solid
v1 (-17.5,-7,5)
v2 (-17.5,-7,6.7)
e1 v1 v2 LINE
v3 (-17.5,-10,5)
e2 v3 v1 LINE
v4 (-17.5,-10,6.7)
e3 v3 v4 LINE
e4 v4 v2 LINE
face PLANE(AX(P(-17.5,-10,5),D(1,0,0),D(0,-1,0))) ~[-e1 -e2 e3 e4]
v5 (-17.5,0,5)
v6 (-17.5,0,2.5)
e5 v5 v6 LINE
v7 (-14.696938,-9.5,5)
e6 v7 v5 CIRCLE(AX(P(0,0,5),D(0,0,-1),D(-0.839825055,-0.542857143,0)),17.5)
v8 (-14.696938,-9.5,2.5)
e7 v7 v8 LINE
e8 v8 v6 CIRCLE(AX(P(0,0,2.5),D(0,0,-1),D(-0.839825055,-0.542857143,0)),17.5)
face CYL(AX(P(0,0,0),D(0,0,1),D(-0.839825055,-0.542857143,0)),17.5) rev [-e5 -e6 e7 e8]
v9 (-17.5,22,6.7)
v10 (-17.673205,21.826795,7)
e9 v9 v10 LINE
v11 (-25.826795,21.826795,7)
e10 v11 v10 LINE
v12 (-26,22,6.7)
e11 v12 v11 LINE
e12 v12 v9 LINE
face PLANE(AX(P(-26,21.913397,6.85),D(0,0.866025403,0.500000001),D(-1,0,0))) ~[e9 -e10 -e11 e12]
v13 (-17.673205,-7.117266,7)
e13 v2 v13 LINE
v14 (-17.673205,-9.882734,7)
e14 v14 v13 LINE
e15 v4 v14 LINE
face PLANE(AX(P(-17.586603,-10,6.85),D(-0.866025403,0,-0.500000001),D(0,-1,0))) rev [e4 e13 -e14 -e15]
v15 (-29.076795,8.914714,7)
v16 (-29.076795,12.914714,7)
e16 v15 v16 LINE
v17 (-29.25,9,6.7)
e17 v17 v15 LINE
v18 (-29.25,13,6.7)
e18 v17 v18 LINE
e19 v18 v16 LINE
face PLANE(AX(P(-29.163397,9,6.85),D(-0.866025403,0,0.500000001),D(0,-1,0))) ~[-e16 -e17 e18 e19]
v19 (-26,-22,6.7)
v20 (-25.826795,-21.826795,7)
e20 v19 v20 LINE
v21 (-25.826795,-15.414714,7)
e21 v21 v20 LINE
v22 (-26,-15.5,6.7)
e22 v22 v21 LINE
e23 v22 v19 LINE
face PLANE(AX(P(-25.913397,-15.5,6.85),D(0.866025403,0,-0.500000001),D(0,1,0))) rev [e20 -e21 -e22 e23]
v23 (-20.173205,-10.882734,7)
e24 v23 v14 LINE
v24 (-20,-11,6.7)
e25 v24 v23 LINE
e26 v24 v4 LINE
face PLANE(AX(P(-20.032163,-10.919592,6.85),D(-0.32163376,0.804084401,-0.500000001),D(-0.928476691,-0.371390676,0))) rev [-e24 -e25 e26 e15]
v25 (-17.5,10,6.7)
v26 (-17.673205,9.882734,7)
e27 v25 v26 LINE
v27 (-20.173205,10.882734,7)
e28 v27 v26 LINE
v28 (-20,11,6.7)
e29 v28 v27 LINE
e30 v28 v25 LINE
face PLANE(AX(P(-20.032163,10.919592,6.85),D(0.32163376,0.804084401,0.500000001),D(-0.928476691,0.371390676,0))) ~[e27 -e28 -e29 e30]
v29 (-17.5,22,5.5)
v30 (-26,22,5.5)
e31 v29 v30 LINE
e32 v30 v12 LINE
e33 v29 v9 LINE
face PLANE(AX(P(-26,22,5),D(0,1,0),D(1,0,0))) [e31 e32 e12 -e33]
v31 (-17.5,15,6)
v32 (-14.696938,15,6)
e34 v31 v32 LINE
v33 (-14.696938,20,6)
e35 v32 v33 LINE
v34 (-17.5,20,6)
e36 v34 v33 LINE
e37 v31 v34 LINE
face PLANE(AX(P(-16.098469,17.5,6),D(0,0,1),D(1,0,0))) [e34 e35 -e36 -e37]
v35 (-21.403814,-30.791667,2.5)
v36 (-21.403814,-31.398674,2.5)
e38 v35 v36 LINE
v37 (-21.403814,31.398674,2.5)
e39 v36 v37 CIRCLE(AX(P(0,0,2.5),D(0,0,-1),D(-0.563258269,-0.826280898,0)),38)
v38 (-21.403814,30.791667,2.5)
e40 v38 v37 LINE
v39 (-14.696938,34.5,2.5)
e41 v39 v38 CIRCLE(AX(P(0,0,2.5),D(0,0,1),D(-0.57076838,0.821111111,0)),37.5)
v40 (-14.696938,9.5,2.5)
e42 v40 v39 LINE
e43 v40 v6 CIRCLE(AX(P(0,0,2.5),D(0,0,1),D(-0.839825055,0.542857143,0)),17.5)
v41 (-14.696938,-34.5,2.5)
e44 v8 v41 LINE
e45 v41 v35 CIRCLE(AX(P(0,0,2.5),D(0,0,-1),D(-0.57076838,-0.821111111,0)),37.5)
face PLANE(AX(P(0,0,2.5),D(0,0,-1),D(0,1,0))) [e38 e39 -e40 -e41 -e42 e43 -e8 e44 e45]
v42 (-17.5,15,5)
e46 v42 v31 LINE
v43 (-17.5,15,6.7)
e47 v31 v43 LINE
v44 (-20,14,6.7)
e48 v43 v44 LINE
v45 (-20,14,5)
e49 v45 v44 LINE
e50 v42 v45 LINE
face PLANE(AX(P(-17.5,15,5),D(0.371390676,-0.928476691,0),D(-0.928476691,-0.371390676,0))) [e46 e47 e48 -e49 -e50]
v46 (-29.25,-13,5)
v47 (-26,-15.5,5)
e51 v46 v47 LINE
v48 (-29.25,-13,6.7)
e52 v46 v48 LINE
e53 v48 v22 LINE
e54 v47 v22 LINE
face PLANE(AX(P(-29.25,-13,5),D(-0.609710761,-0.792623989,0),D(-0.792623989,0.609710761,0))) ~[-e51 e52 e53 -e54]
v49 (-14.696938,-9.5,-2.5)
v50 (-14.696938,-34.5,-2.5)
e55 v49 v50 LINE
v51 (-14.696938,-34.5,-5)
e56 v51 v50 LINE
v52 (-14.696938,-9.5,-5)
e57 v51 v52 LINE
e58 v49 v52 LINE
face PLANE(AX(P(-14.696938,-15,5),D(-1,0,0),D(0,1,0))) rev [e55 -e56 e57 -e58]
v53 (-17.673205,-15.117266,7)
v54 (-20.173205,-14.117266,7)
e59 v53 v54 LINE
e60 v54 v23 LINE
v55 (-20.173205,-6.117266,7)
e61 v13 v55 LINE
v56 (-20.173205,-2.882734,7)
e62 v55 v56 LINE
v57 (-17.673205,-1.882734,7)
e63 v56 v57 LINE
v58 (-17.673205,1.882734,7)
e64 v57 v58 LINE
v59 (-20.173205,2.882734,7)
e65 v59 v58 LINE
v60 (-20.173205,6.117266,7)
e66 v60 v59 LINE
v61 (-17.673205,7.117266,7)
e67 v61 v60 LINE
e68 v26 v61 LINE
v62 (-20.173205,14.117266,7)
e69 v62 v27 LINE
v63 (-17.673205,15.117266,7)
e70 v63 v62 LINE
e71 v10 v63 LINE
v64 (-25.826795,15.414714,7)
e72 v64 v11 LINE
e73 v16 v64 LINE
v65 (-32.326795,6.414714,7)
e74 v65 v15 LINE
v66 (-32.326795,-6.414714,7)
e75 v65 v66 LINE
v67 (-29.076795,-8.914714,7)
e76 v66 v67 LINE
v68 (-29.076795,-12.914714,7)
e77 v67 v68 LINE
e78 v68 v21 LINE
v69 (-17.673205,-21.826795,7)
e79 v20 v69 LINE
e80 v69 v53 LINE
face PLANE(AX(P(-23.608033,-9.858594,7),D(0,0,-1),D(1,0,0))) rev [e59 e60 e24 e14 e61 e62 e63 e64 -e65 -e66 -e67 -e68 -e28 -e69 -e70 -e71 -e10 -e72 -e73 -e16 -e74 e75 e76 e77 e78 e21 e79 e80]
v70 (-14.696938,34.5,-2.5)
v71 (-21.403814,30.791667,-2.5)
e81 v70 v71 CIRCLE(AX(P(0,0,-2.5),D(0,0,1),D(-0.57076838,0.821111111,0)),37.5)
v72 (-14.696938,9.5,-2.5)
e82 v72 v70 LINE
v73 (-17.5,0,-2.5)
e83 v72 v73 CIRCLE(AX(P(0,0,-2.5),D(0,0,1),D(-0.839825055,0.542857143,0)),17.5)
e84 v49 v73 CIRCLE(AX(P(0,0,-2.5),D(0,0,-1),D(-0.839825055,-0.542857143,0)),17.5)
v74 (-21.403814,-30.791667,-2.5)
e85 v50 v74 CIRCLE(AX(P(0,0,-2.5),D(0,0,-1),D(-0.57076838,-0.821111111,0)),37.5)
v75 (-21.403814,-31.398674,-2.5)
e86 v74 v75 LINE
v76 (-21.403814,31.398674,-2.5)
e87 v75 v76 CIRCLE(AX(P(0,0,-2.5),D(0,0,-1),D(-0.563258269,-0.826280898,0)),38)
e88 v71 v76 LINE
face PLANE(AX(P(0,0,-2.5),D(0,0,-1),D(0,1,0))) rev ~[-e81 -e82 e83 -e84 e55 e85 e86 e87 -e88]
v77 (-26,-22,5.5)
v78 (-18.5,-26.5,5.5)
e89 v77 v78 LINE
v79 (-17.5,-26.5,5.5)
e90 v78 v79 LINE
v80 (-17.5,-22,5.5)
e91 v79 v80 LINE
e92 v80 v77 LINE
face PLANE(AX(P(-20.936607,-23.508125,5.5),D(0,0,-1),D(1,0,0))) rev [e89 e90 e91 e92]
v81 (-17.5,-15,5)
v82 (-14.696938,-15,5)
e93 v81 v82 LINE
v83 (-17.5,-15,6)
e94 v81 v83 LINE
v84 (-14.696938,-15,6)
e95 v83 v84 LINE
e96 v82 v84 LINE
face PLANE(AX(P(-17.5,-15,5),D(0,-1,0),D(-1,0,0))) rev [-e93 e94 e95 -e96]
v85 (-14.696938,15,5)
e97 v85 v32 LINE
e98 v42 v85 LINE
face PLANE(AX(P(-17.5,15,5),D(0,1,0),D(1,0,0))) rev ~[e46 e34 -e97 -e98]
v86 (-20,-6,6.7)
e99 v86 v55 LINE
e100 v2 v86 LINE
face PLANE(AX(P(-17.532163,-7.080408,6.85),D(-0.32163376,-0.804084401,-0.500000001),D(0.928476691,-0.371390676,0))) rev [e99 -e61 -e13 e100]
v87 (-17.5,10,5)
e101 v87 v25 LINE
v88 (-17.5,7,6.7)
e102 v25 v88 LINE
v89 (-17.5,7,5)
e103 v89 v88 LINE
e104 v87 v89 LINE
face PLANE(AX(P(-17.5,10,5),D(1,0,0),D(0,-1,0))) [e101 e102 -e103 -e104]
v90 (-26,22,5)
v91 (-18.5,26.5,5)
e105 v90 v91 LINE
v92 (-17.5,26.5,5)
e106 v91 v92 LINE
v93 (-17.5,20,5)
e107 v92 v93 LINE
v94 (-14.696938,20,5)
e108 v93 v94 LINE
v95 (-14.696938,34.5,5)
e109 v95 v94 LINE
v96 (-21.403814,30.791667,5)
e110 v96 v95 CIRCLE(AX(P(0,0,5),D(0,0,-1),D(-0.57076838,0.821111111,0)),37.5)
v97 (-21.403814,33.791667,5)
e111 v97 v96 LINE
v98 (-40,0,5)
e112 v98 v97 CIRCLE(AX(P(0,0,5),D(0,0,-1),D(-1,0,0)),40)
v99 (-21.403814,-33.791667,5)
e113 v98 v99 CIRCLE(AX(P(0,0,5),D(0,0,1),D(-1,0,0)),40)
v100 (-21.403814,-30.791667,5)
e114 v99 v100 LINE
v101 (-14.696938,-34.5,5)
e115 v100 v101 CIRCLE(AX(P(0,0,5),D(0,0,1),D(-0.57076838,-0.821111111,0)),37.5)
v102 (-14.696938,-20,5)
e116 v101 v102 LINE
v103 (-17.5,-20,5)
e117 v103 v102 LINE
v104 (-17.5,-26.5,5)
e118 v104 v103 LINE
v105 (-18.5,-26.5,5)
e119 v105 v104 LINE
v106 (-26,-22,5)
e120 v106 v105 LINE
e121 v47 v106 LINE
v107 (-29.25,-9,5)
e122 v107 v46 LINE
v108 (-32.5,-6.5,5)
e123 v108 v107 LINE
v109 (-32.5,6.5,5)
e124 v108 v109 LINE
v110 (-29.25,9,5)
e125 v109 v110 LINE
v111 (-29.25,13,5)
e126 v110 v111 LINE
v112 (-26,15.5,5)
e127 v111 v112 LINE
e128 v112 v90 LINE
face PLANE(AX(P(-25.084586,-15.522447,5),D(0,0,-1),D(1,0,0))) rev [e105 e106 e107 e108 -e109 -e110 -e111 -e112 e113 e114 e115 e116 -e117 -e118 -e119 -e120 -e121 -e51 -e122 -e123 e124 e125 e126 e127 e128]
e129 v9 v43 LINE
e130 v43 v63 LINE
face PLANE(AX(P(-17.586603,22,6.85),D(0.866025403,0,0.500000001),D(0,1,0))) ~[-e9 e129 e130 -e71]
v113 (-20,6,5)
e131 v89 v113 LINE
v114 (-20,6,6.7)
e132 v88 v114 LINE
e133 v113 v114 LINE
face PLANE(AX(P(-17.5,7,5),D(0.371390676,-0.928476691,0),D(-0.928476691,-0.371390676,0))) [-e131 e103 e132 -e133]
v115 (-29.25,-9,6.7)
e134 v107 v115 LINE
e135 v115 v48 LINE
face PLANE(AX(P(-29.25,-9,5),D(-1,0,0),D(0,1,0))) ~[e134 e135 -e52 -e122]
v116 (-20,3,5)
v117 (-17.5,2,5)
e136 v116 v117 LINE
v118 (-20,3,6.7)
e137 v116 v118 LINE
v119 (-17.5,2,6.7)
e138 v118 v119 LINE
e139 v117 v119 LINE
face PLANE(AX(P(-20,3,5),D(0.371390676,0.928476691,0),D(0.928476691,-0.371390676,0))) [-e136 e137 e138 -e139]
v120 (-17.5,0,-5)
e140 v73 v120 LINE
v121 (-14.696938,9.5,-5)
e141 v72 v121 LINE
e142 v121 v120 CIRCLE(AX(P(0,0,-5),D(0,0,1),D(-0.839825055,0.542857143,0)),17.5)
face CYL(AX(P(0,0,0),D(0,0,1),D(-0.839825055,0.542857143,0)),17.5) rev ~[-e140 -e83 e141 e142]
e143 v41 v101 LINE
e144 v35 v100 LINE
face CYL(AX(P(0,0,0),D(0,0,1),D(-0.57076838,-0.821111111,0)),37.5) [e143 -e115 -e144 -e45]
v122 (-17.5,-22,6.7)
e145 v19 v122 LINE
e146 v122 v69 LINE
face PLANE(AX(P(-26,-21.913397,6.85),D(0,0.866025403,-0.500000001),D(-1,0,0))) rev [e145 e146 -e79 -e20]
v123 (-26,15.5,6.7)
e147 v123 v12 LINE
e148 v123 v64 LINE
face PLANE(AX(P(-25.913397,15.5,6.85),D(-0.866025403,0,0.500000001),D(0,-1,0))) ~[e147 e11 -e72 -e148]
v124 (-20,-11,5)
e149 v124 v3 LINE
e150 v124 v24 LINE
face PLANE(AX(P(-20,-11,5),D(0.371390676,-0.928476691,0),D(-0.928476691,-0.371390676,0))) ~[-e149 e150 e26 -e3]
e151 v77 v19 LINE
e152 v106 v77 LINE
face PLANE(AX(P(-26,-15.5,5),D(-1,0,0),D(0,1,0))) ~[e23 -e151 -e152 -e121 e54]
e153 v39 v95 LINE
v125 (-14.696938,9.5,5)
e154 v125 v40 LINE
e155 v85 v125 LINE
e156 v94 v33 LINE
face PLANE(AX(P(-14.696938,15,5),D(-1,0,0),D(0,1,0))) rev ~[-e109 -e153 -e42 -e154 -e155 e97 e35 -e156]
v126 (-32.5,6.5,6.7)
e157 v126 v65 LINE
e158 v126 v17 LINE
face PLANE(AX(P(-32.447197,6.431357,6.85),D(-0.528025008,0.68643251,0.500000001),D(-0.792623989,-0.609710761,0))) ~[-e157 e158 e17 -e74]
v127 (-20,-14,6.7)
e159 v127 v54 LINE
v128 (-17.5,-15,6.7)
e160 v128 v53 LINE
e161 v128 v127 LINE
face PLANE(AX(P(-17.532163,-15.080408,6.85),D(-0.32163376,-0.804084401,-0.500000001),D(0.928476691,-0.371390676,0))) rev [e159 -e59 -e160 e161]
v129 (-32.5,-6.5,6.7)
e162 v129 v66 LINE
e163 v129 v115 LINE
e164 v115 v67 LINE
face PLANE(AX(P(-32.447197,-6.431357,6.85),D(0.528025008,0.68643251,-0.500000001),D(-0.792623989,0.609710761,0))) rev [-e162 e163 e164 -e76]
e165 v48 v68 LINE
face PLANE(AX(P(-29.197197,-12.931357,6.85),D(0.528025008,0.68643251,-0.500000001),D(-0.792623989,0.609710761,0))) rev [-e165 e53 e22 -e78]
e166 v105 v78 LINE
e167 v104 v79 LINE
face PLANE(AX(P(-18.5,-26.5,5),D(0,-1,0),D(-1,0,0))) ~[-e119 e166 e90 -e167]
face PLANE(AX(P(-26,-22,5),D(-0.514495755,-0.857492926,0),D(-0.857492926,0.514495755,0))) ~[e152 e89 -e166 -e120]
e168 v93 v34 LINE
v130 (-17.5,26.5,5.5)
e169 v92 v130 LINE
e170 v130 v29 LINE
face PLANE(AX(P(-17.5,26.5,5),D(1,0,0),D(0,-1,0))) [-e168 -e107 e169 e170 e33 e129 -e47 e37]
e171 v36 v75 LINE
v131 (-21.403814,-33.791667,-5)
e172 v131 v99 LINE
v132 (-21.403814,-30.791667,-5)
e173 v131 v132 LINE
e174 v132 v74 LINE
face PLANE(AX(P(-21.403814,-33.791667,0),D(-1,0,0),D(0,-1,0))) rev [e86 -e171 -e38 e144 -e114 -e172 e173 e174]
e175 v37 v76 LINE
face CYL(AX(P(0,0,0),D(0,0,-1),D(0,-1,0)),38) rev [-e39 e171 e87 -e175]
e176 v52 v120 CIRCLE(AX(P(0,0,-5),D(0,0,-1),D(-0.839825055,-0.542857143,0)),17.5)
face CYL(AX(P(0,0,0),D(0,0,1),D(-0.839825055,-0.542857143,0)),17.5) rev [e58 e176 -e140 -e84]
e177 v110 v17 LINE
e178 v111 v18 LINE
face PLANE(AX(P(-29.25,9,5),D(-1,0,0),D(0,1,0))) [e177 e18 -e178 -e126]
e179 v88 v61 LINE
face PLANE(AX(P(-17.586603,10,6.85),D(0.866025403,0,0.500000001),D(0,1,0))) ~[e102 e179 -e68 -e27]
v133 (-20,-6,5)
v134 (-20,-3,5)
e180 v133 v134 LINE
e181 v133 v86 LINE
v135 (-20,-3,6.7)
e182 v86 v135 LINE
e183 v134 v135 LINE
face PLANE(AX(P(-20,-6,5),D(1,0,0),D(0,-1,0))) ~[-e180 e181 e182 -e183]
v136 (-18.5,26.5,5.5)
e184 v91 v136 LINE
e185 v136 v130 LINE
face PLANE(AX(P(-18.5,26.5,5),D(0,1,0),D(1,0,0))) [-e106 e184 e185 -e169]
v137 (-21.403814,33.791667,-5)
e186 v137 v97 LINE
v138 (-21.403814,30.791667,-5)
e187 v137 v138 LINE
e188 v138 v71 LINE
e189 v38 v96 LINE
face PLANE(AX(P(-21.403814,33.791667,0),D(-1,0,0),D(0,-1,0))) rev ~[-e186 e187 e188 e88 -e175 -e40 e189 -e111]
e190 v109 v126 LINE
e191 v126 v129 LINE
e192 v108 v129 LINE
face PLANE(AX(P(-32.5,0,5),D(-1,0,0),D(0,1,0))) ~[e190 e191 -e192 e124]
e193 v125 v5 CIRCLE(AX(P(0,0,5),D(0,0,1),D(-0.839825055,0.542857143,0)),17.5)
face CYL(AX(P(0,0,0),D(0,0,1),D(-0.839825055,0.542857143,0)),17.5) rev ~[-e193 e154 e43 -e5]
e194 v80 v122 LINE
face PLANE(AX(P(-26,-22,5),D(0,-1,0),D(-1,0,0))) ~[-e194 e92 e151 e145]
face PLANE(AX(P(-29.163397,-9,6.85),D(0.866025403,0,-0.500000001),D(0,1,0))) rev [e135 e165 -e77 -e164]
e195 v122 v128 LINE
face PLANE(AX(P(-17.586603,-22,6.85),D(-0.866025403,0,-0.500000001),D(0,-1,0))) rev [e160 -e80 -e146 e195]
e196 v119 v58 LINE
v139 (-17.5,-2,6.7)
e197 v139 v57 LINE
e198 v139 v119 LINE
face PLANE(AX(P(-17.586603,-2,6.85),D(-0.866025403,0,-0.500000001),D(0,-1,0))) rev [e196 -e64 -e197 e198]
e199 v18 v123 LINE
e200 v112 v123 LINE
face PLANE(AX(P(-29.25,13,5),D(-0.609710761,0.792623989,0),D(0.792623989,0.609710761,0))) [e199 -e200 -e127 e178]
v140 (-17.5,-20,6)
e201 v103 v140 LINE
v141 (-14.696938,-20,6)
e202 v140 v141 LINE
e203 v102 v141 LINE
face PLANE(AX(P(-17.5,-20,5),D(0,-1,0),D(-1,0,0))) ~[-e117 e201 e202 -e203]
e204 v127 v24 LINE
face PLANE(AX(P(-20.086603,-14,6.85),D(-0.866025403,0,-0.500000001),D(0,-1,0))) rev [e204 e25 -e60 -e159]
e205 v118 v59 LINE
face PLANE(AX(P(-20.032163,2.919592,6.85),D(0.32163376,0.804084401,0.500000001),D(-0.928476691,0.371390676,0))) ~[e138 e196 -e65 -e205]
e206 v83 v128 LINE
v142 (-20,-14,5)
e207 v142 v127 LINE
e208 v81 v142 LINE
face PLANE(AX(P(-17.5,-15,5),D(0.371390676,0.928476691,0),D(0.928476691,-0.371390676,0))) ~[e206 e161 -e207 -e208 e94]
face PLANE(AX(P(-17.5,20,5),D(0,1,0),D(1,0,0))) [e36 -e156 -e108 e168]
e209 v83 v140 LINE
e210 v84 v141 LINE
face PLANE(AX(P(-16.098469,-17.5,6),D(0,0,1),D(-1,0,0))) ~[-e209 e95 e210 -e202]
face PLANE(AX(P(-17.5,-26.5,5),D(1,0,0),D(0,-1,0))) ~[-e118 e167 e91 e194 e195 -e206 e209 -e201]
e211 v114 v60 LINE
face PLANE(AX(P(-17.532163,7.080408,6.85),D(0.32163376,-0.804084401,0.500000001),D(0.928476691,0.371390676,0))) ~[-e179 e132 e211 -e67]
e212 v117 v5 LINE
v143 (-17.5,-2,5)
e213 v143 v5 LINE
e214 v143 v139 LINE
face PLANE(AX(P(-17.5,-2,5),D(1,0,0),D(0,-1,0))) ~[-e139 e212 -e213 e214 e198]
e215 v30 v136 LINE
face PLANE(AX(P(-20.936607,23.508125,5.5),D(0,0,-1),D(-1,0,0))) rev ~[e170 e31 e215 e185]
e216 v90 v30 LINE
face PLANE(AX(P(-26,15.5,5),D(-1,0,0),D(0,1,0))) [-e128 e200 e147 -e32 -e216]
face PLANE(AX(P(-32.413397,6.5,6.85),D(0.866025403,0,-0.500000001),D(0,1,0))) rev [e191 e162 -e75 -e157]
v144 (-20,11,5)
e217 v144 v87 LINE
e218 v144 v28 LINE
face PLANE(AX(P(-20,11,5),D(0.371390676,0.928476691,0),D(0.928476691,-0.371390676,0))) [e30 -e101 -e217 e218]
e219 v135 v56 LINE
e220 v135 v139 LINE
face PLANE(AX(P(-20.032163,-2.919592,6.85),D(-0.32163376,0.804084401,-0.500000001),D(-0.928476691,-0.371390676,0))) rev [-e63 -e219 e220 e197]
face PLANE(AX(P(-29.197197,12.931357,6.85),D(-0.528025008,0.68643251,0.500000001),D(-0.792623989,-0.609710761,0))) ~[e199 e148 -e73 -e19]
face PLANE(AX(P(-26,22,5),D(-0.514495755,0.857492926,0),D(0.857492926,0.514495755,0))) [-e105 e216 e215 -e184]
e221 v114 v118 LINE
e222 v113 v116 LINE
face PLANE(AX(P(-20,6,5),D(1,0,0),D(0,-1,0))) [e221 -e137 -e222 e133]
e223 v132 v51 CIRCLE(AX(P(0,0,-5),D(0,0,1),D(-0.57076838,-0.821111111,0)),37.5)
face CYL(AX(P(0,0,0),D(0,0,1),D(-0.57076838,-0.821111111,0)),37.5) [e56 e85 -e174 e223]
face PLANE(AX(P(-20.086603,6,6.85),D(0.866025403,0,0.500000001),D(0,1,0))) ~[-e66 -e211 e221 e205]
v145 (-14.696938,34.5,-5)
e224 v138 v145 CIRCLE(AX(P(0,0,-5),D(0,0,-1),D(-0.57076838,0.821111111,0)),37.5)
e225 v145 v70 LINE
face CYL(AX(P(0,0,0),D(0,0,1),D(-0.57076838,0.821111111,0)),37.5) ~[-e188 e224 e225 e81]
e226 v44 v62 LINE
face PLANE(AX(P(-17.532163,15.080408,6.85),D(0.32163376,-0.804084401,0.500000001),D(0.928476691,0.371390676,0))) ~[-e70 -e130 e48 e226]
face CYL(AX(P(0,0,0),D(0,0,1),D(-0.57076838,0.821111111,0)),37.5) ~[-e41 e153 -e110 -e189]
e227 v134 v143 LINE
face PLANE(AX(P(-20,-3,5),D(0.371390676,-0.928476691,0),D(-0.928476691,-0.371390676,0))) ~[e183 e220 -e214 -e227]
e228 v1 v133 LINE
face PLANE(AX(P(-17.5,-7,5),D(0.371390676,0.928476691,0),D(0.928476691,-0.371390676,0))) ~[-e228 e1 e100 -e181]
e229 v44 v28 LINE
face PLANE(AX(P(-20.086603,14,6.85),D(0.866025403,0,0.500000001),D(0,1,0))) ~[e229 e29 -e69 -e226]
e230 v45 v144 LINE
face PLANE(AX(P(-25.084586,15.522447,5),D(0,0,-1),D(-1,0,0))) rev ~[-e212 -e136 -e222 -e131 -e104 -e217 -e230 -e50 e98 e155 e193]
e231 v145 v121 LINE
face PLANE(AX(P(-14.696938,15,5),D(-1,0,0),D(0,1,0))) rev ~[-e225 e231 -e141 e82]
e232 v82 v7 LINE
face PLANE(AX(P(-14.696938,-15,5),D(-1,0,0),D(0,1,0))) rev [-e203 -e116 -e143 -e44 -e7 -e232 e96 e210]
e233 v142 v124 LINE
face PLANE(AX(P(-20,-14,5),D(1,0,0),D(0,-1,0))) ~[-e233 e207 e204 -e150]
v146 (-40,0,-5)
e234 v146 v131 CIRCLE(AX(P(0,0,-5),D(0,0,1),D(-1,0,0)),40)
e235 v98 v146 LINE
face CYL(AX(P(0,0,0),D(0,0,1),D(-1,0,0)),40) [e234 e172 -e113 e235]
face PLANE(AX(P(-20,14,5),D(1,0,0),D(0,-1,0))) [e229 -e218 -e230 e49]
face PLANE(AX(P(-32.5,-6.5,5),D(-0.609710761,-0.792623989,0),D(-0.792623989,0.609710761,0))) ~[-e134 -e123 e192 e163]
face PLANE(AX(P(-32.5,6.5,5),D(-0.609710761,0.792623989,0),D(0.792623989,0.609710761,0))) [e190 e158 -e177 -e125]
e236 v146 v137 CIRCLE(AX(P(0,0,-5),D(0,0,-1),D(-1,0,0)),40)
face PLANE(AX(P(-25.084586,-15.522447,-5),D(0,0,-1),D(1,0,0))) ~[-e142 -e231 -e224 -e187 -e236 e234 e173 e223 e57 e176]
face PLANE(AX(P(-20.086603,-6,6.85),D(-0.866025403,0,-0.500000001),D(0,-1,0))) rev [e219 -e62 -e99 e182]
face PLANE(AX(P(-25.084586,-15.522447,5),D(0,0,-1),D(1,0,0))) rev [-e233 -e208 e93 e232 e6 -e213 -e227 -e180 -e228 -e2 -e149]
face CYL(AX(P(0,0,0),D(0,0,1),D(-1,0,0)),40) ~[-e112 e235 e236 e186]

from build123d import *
from OCP.BRepFilletAPI import BRepFilletAPI_MakeChamfer

# Parameters (mm, degrees)
BOSS_EXTRUDE1_DEPTH = 5
BOSS_EXTRUDE2_DEPTH = 2
SKETCH5_W           = 2.803061543
SKETCH5_H           = 5
BOSS_EXTRUDE3_DEPTH = 1
BOSS_EXTRUDE4_DEPTH = 0.5
SKETCH7_W           = 5
SKETCH7_H           = 38
CHAMFER1_SIZE       = 0.3
CHAMFER1_SIZE2      = 0.173205081


with BuildPart() as part:
    # Sketch2 → Boss-Extrude1 (new, symmetric)
    with BuildSketch(Plane.XY):
        with BuildLine():
            Line((-14.696938457, 34.5), (-14.696938457, 9.5))
            ThreePointArc((-14.696938457, 9.5), (-16.784612343, 4.952452777), (-17.5, 0))
            Line((-17.5, 0), (-40, 0))
            ThreePointArc((-40, 0), (-35.043919369, 19.285323831), (-21.403814237, 33.791666667))
            Line((-21.403814237, 33.791666667), (-21.403814237, 30.791666667))
            ThreePointArc((-21.403814237, 30.791666667), (-18.145358092, 32.817616911), (-14.696938457, 34.5))
        make_face()
    extrude(amount=BOSS_EXTRUDE1_DEPTH, both=True)

    # Sketch4 → Boss-Extrude2 (add)
    with BuildSketch(Plane.XY.offset(5)):
        Polygon((-17.5, 15), (-20, 14), (-20, 11), (-17.5, 10), (-17.5, 7), (-20, 6), (-20, 3), (-17.5, 2), (-17.5, 0), (-32.5, 0), (-32.5, 6.5), (-29.25, 9), (-29.25, 13), (-26, 15.5), (-26, 22), (-17.5, 22), align=None)
    extrude(amount=BOSS_EXTRUDE2_DEPTH)

    # Sketch5 → Boss-Extrude3 (add)
    with BuildSketch(Plane.XY.offset(5)):
        with Locations((-16.098469229, 17.5)):
            Rectangle(SKETCH5_W, SKETCH5_H)
    extrude(amount=BOSS_EXTRUDE3_DEPTH)

    # Sketch6 → Boss-Extrude4 (add)
    with BuildSketch(Plane.XY.offset(5)):
        Polygon((-26, 22), (-18.5, 26.5), (-17.5, 26.5), (-17.5, 22), align=None)
    extrude(amount=BOSS_EXTRUDE4_DEPTH)

    # Sketch7 → Cut-Revolve1 (revolve, cut)
    with BuildSketch(Plane(origin=(0, 0, 0), x_dir=(0, 0, -1), z_dir=(1, 0, 0))):
        with Locations((0, 19)):
            Rectangle(SKETCH7_W, SKETCH7_H)
    revolve(axis=Axis((0, 0, 2.5), (0, 0, -1)), mode=Mode.SUBTRACT)

    # Mirror1: part across plane


with BuildPart() as part_1:
    add(part.part)
    add(part.part.mirror(Plane.ZX))

    # Chamfer1: one chamfer whose edges measure the first distance from different faces: ONE call of the kernel's chamfer builder (chamfer() names one face for all edges)
    chamfer1_edges_1 = [part_1.edges().sort_by_distance(p)[0] for p in [
        (-17.5, -18.5, 7),
    ]]
    chamfer1_side_1 = [part_1.faces().sort_by_distance(p)[0] for p in [
        (-17.5, -20.094444444, 6.072222222),
    ]]
    chamfer1_edges_2 = [part_1.edges().sort_by_distance(p)[0] for p in [
        (-18.75, -2.5, 7),
    ]]
    chamfer1_side_2 = [part_1.faces().sort_by_distance(p)[0] for p in [
        (-18.75, -2.5, 6),
    ]]
    chamfer1_edges_3 = [part_1.edges().sort_by_distance(p)[0] for p in [
        (-20, -4.5, 7),
    ]]
    chamfer1_side_3 = [part_1.faces().sort_by_distance(p)[0] for p in [
        (-20, -4.5, 6),
    ]]
    chamfer1_edges_4 = [part_1.edges().sort_by_distance(p)[0] for p in [
        (-18.75, -6.5, 7),
    ]]
    chamfer1_side_4 = [part_1.faces().sort_by_distance(p)[0] for p in [
        (-18.75, -6.5, 6),
    ]]
    chamfer1_edges_5 = [part_1.edges().sort_by_distance(p)[0] for p in [
        (-17.5, -8.5, 7),
    ]]
    chamfer1_side_5 = [part_1.faces().sort_by_distance(p)[0] for p in [
        (-17.5, -8.5, 6),
    ]]
    chamfer1_edges_6 = [part_1.edges().sort_by_distance(p)[0] for p in [
        (-18.75, -10.5, 7),
    ]]
    chamfer1_side_6 = [part_1.faces().sort_by_distance(p)[0] for p in [
        (-18.75, -10.5, 6),
    ]]
    chamfer1_edges_7 = [part_1.edges().sort_by_distance(p)[0] for p in [
        (-20, -12.5, 7),
    ]]
    chamfer1_side_7 = [part_1.faces().sort_by_distance(p)[0] for p in [
        (-20, -12.5, 6),
    ]]
    chamfer1_edges_8 = [part_1.edges().sort_by_distance(p)[0] for p in [
        (-18.75, -14.5, 7),
    ]]
    chamfer1_side_8 = [part_1.faces().sort_by_distance(p)[0] for p in [
        (-18.75, -14.5, 6),
    ]]
    chamfer1_edges_9 = [part_1.edges().sort_by_distance(p)[0] for p in [
        (-21.75, -22, 7),
    ]]
    chamfer1_side_9 = [part_1.faces().sort_by_distance(p)[0] for p in [
        (-21.75, -22, 6.25),
    ]]
    chamfer1_edges_10 = [part_1.edges().sort_by_distance(p)[0] for p in [
        (-26, -18.75, 7),
    ]]
    chamfer1_side_10 = [part_1.faces().sort_by_distance(p)[0] for p in [
        (-26, -18.75, 6),
    ]]
    chamfer1_edges_11 = [part_1.edges().sort_by_distance(p)[0] for p in [
        (-27.625, -14.25, 7),
    ]]
    chamfer1_side_11 = [part_1.faces().sort_by_distance(p)[0] for p in [
        (-27.625, -14.25, 6),
    ]]
    chamfer1_edges_12 = [part_1.edges().sort_by_distance(p)[0] for p in [
        (-29.25, -11, 7),
    ]]
    chamfer1_side_12 = [part_1.faces().sort_by_distance(p)[0] for p in [
        (-29.25, -11, 6),
    ]]
    chamfer1_edges_13 = [part_1.edges().sort_by_distance(p)[0] for p in [
        (-30.875, -7.75, 7),
    ]]
    chamfer1_side_13 = [part_1.faces().sort_by_distance(p)[0] for p in [
        (-30.875, -7.75, 6),
    ]]
    chamfer1_edges_14 = [part_1.edges().sort_by_distance(p)[0] for p in [
        (-17.5, 0, 7),
    ]]
    chamfer1_side_14 = [part_1.faces().sort_by_distance(p)[0] for p in [
        (-17.5, 0, 6),
    ]]
    chamfer1_edges_15 = [part_1.edges().sort_by_distance(p)[0] for p in [
        (-18.75, 2.5, 7),
    ]]
    chamfer1_side_15 = [part_1.faces().sort_by_distance(p)[0] for p in [
        (-18.75, 2.5, 6),
    ]]
    chamfer1_edges_16 = [part_1.edges().sort_by_distance(p)[0] for p in [
        (-20, 4.5, 7),
    ]]
    chamfer1_side_16 = [part_1.faces().sort_by_distance(p)[0] for p in [
        (-20, 4.5, 6),
    ]]
    chamfer1_edges_17 = [part_1.edges().sort_by_distance(p)[0] for p in [
        (-18.75, 6.5, 7),
    ]]
    chamfer1_side_17 = [part_1.faces().sort_by_distance(p)[0] for p in [
        (-18.75, 6.5, 6),
    ]]
    chamfer1_edges_18 = [part_1.edges().sort_by_distance(p)[0] for p in [
        (-17.5, 8.5, 7),
    ]]
    chamfer1_side_18 = [part_1.faces().sort_by_distance(p)[0] for p in [
        (-17.5, 8.5, 6),
    ]]
    chamfer1_edges_19 = [part_1.edges().sort_by_distance(p)[0] for p in [
        (-18.75, 10.5, 7),
    ]]
    chamfer1_side_19 = [part_1.faces().sort_by_distance(p)[0] for p in [
        (-18.75, 10.5, 6),
    ]]
    chamfer1_edges_20 = [part_1.edges().sort_by_distance(p)[0] for p in [
        (-20, 12.5, 7),
    ]]
    chamfer1_side_20 = [part_1.faces().sort_by_distance(p)[0] for p in [
        (-20, 12.5, 6),
    ]]
    chamfer1_edges_21 = [part_1.edges().sort_by_distance(p)[0] for p in [
        (-18.75, 14.5, 7),
    ]]
    chamfer1_side_21 = [part_1.faces().sort_by_distance(p)[0] for p in [
        (-18.75, 14.5, 6),
    ]]
    chamfer1_edges_22 = [part_1.edges().sort_by_distance(p)[0] for p in [
        (-17.5, 18.5, 7),
    ]]
    chamfer1_side_22 = [part_1.faces().sort_by_distance(p)[0] for p in [
        (-17.5, 20.094444444, 6.072222222),
    ]]
    chamfer1_edges_23 = [part_1.edges().sort_by_distance(p)[0] for p in [
        (-21.75, 22, 7),
    ]]
    chamfer1_side_23 = [part_1.faces().sort_by_distance(p)[0] for p in [
        (-21.75, 22, 6.25),
    ]]
    chamfer1_edges_24 = [part_1.edges().sort_by_distance(p)[0] for p in [
        (-26, 18.75, 7),
    ]]
    chamfer1_side_24 = [part_1.faces().sort_by_distance(p)[0] for p in [
        (-26, 18.75, 6),
    ]]
    chamfer1_edges_25 = [part_1.edges().sort_by_distance(p)[0] for p in [
        (-27.625, 14.25, 7),
    ]]
    chamfer1_side_25 = [part_1.faces().sort_by_distance(p)[0] for p in [
        (-27.625, 14.25, 6),
    ]]
    chamfer1_edges_26 = [part_1.edges().sort_by_distance(p)[0] for p in [
        (-29.25, 11, 7),
    ]]
    chamfer1_side_26 = [part_1.faces().sort_by_distance(p)[0] for p in [
        (-29.25, 11, 6),
    ]]
    chamfer1_edges_27 = [part_1.edges().sort_by_distance(p)[0] for p in [
        (-30.875, 7.75, 7),
    ]]
    chamfer1_side_27 = [part_1.faces().sort_by_distance(p)[0] for p in [
        (-30.875, 7.75, 6),
    ]]
    chamfer1_edges_28 = [part_1.edges().sort_by_distance(p)[0] for p in [
        (-32.5, 0, 7),
    ]]
    chamfer1_side_28 = [part_1.faces().sort_by_distance(p)[0] for p in [
        (-32.5, 0, 6),
    ]]
    chamfer1 = BRepFilletAPI_MakeChamfer(part_1.part.solid().wrapped)
    for e in chamfer1_edges_1:
        chamfer1.Add(CHAMFER1_SIZE, CHAMFER1_SIZE2, e.wrapped, chamfer1_side_1[0].wrapped)  # the first distance lies on this face
    for e in chamfer1_edges_2:
        chamfer1.Add(CHAMFER1_SIZE, CHAMFER1_SIZE2, e.wrapped, chamfer1_side_2[0].wrapped)  # the first distance lies on this face
    for e in chamfer1_edges_3:
        chamfer1.Add(CHAMFER1_SIZE, CHAMFER1_SIZE2, e.wrapped, chamfer1_side_3[0].wrapped)  # the first distance lies on this face
    for e in chamfer1_edges_4:
        chamfer1.Add(CHAMFER1_SIZE, CHAMFER1_SIZE2, e.wrapped, chamfer1_side_4[0].wrapped)  # the first distance lies on this face
    for e in chamfer1_edges_5:
        chamfer1.Add(CHAMFER1_SIZE, CHAMFER1_SIZE2, e.wrapped, chamfer1_side_5[0].wrapped)  # the first distance lies on this face
    for e in chamfer1_edges_6:
        chamfer1.Add(CHAMFER1_SIZE, CHAMFER1_SIZE2, e.wrapped, chamfer1_side_6[0].wrapped)  # the first distance lies on this face
    for e in chamfer1_edges_7:
        chamfer1.Add(CHAMFER1_SIZE, CHAMFER1_SIZE2, e.wrapped, chamfer1_side_7[0].wrapped)  # the first distance lies on this face
    for e in chamfer1_edges_8:
        chamfer1.Add(CHAMFER1_SIZE, CHAMFER1_SIZE2, e.wrapped, chamfer1_side_8[0].wrapped)  # the first distance lies on this face
    for e in chamfer1_edges_9:
        chamfer1.Add(CHAMFER1_SIZE, CHAMFER1_SIZE2, e.wrapped, chamfer1_side_9[0].wrapped)  # the first distance lies on this face
    for e in chamfer1_edges_10:
        chamfer1.Add(CHAMFER1_SIZE, CHAMFER1_SIZE2, e.wrapped, chamfer1_side_10[0].wrapped)  # the first distance lies on this face
    for e in chamfer1_edges_11:
        chamfer1.Add(CHAMFER1_SIZE, CHAMFER1_SIZE2, e.wrapped, chamfer1_side_11[0].wrapped)  # the first distance lies on this face
    for e in chamfer1_edges_12:
        chamfer1.Add(CHAMFER1_SIZE, CHAMFER1_SIZE2, e.wrapped, chamfer1_side_12[0].wrapped)  # the first distance lies on this face
    for e in chamfer1_edges_13:
        chamfer1.Add(CHAMFER1_SIZE, CHAMFER1_SIZE2, e.wrapped, chamfer1_side_13[0].wrapped)  # the first distance lies on this face
    for e in chamfer1_edges_14:
        chamfer1.Add(CHAMFER1_SIZE, CHAMFER1_SIZE2, e.wrapped, chamfer1_side_14[0].wrapped)  # the first distance lies on this face
    for e in chamfer1_edges_15:
        chamfer1.Add(CHAMFER1_SIZE, CHAMFER1_SIZE2, e.wrapped, chamfer1_side_15[0].wrapped)  # the first distance lies on this face
    for e in chamfer1_edges_16:
        chamfer1.Add(CHAMFER1_SIZE, CHAMFER1_SIZE2, e.wrapped, chamfer1_side_16[0].wrapped)  # the first distance lies on this face
    for e in chamfer1_edges_17:
        chamfer1.Add(CHAMFER1_SIZE, CHAMFER1_SIZE2, e.wrapped, chamfer1_side_17[0].wrapped)  # the first distance lies on this face
    for e in chamfer1_edges_18:
        chamfer1.Add(CHAMFER1_SIZE, CHAMFER1_SIZE2, e.wrapped, chamfer1_side_18[0].wrapped)  # the first distance lies on this face
    for e in chamfer1_edges_19:
        chamfer1.Add(CHAMFER1_SIZE, CHAMFER1_SIZE2, e.wrapped, chamfer1_side_19[0].wrapped)  # the first distance lies on this face
    for e in chamfer1_edges_20:
        chamfer1.Add(CHAMFER1_SIZE, CHAMFER1_SIZE2, e.wrapped, chamfer1_side_20[0].wrapped)  # the first distance lies on this face
    for e in chamfer1_edges_21:
        chamfer1.Add(CHAMFER1_SIZE, CHAMFER1_SIZE2, e.wrapped, chamfer1_side_21[0].wrapped)  # the first distance lies on this face
    for e in chamfer1_edges_22:
        chamfer1.Add(CHAMFER1_SIZE, CHAMFER1_SIZE2, e.wrapped, chamfer1_side_22[0].wrapped)  # the first distance lies on this face
    for e in chamfer1_edges_23:
        chamfer1.Add(CHAMFER1_SIZE, CHAMFER1_SIZE2, e.wrapped, chamfer1_side_23[0].wrapped)  # the first distance lies on this face
    for e in chamfer1_edges_24:
        chamfer1.Add(CHAMFER1_SIZE, CHAMFER1_SIZE2, e.wrapped, chamfer1_side_24[0].wrapped)  # the first distance lies on this face
    for e in chamfer1_edges_25:
        chamfer1.Add(CHAMFER1_SIZE, CHAMFER1_SIZE2, e.wrapped, chamfer1_side_25[0].wrapped)  # the first distance lies on this face
    for e in chamfer1_edges_26:
        chamfer1.Add(CHAMFER1_SIZE, CHAMFER1_SIZE2, e.wrapped, chamfer1_side_26[0].wrapped)  # the first distance lies on this face
    for e in chamfer1_edges_27:
        chamfer1.Add(CHAMFER1_SIZE, CHAMFER1_SIZE2, e.wrapped, chamfer1_side_27[0].wrapped)  # the first distance lies on this face
    for e in chamfer1_edges_28:
        chamfer1.Add(CHAMFER1_SIZE, CHAMFER1_SIZE2, e.wrapped, chamfer1_side_28[0].wrapped)  # the first distance lies on this face
    add(Compound.cast(chamfer1.Shape()), mode=Mode.REPLACE)


solid = part_1.part
